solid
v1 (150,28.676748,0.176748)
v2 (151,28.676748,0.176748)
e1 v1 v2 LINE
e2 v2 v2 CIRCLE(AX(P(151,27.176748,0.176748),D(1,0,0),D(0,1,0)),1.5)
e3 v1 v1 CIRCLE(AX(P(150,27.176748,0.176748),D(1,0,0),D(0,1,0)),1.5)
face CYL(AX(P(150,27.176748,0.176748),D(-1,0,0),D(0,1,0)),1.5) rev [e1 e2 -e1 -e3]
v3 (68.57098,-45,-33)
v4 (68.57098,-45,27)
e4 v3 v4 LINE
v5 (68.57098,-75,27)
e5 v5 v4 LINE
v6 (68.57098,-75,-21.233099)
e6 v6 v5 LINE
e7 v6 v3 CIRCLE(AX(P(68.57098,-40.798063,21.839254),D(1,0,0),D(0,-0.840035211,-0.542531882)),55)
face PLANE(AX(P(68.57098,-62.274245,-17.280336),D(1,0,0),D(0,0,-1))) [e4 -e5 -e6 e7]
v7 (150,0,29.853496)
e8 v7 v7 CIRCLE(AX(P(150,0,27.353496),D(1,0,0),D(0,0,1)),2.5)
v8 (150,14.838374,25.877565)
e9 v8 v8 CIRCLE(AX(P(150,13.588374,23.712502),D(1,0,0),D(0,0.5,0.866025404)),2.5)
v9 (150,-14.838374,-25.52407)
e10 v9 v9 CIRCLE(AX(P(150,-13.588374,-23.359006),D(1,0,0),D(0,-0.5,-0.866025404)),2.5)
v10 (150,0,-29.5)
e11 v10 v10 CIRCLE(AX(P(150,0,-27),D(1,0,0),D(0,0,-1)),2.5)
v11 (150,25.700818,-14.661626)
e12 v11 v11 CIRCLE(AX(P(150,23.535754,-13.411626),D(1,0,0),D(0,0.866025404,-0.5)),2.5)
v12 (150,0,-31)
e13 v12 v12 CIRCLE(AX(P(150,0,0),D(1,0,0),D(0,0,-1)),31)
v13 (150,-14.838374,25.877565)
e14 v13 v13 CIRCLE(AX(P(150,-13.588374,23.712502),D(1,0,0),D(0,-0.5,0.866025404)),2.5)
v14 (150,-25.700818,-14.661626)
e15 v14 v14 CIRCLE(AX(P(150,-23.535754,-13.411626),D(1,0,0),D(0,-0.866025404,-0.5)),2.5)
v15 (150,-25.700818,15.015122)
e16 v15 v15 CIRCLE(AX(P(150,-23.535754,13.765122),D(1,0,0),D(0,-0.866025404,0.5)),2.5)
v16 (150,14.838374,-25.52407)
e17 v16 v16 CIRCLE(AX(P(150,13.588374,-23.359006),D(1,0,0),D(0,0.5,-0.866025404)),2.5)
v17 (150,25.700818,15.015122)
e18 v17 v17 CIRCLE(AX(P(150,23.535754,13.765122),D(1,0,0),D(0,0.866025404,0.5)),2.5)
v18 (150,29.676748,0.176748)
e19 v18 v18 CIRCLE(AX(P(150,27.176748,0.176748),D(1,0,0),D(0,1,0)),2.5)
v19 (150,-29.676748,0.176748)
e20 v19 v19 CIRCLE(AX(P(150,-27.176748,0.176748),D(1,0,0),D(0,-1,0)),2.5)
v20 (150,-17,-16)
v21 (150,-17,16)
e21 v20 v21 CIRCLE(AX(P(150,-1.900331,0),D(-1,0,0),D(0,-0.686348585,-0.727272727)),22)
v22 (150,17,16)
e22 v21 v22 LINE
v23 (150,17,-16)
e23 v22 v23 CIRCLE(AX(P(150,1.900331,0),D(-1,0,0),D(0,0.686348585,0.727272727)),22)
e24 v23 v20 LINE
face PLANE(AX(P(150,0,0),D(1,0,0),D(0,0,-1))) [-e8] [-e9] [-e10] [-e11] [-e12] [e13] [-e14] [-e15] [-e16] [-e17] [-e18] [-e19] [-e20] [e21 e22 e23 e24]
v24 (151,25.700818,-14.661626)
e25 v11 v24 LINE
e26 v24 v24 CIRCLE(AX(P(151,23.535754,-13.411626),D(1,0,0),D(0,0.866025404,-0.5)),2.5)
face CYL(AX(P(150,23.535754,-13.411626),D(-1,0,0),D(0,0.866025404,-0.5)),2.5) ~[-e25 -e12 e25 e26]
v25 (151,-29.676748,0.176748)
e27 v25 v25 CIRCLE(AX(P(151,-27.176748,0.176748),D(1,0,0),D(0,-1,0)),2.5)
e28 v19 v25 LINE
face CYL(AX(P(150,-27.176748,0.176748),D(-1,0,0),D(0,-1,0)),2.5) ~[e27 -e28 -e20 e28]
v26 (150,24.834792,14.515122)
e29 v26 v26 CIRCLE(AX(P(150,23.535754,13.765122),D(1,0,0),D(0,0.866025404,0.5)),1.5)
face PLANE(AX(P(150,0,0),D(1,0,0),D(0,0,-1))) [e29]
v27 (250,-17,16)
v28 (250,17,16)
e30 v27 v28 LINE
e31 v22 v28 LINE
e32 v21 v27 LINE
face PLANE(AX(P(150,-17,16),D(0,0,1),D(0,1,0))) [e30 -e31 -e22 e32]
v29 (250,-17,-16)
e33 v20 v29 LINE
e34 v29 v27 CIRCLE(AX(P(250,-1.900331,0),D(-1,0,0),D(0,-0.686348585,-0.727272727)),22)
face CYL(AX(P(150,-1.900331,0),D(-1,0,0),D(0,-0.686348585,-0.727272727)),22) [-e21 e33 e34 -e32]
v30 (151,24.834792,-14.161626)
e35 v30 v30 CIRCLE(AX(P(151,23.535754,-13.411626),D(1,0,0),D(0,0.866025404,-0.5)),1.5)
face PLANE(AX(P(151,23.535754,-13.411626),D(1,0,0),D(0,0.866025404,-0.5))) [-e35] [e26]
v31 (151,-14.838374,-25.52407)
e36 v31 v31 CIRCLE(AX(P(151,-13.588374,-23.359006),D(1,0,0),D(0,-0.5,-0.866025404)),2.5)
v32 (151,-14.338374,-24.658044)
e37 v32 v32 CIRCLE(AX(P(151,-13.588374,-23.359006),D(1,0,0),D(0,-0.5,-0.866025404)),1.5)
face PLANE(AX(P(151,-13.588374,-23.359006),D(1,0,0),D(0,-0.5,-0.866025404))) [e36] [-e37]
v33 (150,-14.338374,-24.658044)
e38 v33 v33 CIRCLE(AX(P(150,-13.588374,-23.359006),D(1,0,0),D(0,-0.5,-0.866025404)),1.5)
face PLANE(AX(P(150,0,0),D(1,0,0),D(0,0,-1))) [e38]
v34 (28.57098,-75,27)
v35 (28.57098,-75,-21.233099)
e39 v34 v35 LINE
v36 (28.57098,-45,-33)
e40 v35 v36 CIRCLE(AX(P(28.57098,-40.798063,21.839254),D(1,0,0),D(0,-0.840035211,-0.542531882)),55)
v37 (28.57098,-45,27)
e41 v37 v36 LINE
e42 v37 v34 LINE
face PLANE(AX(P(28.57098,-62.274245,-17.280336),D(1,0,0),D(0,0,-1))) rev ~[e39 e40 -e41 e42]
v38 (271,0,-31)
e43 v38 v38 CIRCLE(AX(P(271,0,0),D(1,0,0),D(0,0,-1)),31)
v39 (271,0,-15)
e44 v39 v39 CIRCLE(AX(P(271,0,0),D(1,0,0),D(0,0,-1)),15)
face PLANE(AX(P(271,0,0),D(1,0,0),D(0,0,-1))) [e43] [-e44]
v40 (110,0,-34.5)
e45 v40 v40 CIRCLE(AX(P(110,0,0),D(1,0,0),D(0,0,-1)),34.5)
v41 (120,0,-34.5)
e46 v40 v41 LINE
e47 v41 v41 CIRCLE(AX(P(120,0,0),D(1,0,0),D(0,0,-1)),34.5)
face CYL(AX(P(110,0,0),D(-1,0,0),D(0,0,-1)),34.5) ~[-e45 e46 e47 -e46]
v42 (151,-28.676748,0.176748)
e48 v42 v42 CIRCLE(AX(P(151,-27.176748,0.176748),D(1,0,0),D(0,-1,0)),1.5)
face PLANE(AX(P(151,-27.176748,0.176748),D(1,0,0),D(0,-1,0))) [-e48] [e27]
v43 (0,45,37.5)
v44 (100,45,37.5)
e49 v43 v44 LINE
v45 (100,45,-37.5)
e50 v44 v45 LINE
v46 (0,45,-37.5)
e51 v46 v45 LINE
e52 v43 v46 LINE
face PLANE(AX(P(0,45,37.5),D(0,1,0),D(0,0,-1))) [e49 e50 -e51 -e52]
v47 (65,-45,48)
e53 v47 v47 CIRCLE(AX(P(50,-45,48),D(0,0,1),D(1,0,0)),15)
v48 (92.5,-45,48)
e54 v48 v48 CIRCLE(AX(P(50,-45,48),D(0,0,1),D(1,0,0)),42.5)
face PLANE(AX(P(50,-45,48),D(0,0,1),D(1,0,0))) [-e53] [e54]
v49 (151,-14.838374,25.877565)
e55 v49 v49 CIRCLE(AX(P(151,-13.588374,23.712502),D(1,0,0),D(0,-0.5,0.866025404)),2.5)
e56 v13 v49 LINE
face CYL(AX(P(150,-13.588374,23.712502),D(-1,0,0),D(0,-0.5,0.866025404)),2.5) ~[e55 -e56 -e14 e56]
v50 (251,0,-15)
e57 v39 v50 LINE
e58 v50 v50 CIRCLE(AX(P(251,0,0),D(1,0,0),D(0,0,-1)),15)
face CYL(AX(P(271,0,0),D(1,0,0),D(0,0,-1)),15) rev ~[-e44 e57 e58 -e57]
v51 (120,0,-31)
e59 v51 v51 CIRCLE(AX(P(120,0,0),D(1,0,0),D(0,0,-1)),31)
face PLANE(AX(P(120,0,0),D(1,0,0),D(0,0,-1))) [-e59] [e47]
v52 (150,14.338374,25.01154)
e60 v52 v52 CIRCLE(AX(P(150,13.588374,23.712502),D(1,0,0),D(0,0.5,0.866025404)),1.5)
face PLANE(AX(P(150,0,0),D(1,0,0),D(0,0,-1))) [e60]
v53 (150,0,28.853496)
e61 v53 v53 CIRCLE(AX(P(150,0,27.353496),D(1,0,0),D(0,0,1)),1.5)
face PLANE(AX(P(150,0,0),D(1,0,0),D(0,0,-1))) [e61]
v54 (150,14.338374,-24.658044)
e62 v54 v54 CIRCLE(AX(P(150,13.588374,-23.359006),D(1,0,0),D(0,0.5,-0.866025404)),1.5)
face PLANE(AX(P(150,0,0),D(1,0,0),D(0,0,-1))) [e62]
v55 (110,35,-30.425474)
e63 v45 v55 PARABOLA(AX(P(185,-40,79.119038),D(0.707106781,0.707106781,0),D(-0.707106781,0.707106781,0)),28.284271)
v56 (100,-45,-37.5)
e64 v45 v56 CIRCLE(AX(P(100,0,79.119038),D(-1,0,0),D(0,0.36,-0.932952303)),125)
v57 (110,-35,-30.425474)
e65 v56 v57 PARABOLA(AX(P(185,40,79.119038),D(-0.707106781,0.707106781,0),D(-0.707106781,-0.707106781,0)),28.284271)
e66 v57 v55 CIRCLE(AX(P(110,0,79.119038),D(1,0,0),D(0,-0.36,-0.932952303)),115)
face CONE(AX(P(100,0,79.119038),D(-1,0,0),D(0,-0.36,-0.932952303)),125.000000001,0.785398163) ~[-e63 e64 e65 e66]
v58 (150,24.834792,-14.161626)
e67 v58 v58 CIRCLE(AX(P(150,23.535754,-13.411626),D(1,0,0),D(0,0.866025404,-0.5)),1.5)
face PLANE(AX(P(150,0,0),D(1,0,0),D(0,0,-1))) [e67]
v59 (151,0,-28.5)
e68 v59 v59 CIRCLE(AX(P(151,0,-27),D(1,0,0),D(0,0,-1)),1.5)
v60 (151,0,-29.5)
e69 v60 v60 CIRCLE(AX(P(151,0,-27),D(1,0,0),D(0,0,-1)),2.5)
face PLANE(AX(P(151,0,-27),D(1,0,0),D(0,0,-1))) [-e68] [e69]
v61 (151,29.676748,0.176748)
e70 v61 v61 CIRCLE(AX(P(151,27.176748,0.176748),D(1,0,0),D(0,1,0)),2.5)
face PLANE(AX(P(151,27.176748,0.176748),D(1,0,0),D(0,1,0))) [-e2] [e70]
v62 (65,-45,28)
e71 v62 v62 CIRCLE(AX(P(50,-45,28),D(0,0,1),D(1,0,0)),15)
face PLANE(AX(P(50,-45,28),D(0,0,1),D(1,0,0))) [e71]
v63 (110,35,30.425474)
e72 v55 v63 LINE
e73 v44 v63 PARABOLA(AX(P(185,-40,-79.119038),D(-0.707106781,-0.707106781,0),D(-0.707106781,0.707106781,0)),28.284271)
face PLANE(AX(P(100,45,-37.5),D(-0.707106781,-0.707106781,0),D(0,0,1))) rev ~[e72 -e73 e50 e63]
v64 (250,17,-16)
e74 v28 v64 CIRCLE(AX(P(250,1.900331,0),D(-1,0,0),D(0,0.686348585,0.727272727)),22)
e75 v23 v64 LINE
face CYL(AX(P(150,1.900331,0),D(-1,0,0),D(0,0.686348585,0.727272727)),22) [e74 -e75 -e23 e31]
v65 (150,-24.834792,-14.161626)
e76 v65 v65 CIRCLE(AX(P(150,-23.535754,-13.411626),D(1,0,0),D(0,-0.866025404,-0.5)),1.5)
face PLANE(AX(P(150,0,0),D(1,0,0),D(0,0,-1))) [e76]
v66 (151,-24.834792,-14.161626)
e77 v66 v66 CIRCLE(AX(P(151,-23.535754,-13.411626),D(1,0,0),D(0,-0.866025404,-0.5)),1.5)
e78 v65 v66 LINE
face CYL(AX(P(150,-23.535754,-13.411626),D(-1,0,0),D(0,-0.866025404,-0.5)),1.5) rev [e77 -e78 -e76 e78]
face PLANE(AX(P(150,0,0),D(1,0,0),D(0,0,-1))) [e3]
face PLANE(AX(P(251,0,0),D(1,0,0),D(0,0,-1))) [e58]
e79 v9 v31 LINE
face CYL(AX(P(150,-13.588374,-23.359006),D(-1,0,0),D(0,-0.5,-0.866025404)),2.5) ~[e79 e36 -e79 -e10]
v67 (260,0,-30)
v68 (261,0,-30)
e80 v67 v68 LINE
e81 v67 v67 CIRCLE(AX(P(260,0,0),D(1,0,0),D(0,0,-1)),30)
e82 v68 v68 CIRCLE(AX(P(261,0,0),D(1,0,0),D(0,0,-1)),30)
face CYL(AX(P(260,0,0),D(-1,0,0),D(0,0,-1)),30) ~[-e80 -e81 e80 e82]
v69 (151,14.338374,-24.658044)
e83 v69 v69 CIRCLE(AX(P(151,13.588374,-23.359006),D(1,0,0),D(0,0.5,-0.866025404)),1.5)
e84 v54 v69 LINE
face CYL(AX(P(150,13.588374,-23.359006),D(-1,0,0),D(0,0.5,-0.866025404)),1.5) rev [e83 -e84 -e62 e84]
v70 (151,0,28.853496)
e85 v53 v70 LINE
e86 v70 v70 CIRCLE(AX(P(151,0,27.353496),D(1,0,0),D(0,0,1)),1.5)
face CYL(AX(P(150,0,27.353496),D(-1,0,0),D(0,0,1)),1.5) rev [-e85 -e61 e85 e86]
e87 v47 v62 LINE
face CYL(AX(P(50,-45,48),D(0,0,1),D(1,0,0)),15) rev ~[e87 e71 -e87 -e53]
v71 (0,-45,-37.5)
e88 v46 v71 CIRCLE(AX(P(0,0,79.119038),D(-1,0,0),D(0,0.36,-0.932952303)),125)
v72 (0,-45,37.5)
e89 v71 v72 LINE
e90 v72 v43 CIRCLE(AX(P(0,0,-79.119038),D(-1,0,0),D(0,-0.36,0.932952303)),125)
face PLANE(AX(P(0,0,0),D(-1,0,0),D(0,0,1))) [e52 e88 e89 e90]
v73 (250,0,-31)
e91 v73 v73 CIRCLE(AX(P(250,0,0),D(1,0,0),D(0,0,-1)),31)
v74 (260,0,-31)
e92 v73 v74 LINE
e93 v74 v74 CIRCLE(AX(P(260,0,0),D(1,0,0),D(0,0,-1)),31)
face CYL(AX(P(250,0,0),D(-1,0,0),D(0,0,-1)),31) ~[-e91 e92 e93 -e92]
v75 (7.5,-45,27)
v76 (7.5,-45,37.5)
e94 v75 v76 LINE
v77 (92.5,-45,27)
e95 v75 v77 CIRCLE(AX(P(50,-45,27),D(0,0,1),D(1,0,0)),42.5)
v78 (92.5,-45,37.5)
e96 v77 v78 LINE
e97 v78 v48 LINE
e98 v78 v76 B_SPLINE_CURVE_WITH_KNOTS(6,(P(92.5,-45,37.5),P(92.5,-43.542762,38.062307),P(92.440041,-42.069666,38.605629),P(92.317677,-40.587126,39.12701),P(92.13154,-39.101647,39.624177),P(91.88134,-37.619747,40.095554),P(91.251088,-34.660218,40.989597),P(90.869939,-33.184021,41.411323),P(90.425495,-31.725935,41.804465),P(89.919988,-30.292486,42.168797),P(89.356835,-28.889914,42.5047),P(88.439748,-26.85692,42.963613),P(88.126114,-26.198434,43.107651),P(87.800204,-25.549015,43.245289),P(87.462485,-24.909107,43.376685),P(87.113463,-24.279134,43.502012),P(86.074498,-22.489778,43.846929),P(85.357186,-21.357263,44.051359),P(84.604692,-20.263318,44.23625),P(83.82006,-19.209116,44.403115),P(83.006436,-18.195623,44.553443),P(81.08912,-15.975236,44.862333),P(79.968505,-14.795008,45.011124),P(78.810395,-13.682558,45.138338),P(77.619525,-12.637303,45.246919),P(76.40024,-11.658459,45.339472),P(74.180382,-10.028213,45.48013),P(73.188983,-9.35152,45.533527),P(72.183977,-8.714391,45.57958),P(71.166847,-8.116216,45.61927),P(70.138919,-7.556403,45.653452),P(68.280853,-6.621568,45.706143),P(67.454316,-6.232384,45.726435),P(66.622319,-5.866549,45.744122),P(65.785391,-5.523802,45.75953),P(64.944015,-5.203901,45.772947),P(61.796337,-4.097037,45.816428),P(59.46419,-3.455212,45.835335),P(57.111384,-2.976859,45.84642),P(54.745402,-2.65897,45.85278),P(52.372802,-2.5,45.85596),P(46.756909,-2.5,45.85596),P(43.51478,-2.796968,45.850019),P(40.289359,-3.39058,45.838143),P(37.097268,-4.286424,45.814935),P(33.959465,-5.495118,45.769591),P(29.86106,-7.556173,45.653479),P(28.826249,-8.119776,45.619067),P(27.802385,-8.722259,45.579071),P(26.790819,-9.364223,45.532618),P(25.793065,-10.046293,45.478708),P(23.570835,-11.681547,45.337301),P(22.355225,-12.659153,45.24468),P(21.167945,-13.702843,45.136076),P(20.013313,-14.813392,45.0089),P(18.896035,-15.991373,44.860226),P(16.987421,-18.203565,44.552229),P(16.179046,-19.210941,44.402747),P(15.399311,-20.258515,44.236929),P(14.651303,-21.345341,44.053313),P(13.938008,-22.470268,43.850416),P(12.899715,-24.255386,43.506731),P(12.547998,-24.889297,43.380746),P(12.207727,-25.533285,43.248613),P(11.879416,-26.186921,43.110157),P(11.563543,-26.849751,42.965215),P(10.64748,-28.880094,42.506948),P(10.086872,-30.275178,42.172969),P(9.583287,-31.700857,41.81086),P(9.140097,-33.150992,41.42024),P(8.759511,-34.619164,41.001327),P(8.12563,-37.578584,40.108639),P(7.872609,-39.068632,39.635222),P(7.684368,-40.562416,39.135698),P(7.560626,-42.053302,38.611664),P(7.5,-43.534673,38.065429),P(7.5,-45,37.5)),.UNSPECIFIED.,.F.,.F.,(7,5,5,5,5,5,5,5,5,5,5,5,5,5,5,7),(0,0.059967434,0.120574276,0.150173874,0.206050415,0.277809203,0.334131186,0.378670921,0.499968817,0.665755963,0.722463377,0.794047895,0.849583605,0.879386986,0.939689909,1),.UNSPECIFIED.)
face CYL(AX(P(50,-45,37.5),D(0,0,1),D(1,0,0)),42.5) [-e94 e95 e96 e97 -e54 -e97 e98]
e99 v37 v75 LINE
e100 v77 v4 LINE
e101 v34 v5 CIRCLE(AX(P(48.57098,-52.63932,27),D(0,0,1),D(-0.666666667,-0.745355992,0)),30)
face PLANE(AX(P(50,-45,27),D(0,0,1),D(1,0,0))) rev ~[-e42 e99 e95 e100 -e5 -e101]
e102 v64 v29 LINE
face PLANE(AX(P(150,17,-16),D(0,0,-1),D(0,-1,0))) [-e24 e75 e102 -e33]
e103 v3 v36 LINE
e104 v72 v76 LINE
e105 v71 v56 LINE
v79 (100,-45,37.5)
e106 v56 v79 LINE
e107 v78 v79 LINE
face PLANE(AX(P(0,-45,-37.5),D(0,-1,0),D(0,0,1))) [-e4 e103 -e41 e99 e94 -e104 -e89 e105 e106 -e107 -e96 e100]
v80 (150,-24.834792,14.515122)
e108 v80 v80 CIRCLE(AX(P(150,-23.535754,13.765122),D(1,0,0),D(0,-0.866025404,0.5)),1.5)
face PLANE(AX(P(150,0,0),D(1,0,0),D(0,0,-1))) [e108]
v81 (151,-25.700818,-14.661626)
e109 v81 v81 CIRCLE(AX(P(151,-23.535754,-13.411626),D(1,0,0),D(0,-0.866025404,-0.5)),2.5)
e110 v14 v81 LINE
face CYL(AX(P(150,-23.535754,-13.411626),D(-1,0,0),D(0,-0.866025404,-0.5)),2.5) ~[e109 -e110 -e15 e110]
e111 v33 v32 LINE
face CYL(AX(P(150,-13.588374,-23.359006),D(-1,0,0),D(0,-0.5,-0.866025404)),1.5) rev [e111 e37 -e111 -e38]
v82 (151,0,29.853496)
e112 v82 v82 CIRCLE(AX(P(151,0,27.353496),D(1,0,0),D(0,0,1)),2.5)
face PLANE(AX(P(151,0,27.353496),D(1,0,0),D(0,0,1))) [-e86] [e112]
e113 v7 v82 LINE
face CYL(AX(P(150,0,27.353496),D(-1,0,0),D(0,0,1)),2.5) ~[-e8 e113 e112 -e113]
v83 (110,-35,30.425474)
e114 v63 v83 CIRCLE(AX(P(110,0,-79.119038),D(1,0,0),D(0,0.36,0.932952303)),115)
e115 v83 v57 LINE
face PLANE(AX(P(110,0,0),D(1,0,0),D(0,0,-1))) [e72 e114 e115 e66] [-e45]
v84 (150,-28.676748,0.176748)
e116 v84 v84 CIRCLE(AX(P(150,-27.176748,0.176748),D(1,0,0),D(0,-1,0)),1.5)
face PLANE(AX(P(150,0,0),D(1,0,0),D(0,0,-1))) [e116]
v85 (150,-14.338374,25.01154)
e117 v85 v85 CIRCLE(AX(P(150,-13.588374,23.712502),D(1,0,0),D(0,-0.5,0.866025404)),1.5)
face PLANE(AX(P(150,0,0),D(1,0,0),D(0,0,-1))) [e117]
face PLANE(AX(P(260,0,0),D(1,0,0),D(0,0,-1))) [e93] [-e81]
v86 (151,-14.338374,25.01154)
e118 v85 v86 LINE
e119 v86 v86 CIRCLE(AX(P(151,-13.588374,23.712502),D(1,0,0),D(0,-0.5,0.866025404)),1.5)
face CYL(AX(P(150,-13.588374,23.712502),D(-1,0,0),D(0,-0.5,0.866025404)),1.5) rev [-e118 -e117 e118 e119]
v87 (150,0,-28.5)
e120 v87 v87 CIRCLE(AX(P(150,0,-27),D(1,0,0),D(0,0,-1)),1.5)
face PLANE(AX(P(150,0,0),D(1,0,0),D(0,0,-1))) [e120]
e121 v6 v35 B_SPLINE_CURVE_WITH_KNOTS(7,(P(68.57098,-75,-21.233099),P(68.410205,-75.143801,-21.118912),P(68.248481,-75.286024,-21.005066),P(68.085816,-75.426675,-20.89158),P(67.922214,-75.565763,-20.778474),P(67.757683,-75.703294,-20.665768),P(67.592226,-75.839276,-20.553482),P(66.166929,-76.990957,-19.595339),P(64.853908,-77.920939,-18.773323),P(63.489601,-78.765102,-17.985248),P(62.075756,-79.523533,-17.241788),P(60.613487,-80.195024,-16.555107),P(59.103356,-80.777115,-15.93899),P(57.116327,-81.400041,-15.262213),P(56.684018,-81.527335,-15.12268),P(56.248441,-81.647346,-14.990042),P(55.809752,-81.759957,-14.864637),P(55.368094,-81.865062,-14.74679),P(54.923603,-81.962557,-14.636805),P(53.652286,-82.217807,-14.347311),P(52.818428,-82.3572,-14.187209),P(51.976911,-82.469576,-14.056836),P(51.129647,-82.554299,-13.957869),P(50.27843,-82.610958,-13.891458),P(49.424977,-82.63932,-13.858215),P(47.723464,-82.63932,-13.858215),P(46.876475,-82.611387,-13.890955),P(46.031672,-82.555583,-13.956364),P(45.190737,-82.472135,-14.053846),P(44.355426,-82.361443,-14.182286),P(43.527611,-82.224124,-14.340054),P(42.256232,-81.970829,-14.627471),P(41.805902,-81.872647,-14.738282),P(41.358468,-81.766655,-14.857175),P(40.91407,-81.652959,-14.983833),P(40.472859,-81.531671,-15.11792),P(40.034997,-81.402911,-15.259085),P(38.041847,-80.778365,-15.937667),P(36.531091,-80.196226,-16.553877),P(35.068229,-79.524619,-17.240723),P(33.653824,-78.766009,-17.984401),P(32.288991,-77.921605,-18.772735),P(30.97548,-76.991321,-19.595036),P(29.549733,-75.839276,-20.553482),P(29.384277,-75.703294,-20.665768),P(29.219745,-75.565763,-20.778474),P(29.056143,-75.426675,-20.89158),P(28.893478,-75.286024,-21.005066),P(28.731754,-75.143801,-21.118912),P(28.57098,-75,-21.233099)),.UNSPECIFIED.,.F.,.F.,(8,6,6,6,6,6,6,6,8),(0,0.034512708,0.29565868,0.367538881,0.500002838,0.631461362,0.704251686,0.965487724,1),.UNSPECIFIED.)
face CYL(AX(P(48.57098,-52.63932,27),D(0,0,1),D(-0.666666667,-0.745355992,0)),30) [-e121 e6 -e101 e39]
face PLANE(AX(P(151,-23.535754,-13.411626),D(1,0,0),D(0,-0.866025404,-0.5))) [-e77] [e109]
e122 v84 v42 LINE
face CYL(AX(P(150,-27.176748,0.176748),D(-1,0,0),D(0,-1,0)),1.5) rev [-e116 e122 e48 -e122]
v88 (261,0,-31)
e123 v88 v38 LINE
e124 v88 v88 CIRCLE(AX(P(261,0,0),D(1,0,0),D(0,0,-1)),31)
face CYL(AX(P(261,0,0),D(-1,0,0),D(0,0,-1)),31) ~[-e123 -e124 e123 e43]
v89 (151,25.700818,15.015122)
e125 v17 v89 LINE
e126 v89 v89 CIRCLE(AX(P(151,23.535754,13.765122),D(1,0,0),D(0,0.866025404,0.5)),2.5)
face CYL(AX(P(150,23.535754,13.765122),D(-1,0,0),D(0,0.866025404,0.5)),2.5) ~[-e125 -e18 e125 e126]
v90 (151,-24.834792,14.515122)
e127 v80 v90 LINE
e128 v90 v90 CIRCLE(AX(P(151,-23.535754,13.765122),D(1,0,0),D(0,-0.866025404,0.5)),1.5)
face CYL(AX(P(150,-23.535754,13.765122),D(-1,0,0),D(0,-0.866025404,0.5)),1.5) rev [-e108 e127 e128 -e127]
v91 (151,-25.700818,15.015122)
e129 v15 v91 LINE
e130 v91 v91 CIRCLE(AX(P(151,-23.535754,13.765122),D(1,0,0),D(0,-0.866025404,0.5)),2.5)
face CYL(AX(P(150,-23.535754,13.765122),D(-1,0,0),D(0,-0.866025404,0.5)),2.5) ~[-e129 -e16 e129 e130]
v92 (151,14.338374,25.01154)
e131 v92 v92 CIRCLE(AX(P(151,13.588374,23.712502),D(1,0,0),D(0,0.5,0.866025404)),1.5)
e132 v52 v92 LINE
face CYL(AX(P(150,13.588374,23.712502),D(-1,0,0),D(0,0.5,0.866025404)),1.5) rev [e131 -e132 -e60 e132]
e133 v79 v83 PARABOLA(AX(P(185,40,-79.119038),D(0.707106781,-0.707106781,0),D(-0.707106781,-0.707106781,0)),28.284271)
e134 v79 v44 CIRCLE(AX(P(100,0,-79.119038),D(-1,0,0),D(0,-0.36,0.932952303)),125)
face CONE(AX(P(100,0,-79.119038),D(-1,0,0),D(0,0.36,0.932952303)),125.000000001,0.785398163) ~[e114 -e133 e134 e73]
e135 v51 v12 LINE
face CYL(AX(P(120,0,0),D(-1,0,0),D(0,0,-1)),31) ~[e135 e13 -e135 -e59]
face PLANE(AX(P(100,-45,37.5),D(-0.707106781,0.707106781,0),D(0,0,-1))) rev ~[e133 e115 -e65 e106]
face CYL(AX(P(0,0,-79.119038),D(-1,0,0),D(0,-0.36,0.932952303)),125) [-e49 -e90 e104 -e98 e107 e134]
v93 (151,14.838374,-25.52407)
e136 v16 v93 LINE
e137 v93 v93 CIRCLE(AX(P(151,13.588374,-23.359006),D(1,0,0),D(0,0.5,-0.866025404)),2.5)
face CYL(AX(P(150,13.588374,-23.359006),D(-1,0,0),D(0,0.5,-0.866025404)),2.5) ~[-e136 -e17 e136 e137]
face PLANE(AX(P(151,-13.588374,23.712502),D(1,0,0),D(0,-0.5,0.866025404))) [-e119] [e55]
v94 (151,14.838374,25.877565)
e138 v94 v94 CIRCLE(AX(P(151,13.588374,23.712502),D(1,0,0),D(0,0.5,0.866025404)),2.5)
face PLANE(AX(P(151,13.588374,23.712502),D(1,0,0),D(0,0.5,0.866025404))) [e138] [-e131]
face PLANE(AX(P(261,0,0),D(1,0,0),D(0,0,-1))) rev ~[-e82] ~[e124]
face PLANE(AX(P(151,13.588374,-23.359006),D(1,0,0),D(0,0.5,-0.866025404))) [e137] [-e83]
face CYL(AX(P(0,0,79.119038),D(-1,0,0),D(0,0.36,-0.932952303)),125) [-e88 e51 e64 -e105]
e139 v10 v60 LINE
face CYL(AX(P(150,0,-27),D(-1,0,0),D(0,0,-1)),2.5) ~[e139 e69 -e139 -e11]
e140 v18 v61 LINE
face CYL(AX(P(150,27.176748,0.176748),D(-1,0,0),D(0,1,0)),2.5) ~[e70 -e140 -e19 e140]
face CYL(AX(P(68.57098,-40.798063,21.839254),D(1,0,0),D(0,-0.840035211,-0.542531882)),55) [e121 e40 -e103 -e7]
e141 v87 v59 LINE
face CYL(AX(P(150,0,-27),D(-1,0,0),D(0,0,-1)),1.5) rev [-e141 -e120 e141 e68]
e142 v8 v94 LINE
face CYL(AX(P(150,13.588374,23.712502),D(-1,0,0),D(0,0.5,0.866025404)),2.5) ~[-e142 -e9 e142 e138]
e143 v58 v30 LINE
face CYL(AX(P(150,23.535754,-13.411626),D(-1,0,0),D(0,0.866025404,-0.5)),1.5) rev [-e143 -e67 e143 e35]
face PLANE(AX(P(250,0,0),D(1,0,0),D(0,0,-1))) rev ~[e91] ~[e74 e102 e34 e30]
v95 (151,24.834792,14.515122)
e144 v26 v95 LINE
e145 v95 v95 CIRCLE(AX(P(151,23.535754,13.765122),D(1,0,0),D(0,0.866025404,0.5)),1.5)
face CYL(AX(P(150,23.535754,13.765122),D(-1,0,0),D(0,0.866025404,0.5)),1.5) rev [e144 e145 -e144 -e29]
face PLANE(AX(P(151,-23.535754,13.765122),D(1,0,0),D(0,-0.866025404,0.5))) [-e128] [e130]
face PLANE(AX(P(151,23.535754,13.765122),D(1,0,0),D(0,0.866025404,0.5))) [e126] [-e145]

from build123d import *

# Parameters (mm, degrees)
BOSS_EXTRUDE1_DEPTH  = 100
BOSS_EXTRUDE2_DEPTH  = 10
BOSS_EXTRUDE2_DRAFT  = 45
SKETCH4_R            = 34.5
BOSS_EXTRUDE3_DEPTH  = 10
SKETCH5_R            = 31
BOSS_EXTRUDE4_DEPTH  = 30
SKETCH6_R            = 2.5
SKETCH6_R_2          = 1.5
BOSS_EXTRUDE5_DEPTH  = 1
CIRPATTERN1_COUNT    = 12
BOSS_EXTRUDE6_DEPTH  = 100
SKETCH8_R            = 31
BOSS_EXTRUDE7_DEPTH  = 10
SKETCH9_R            = 30
BOSS_EXTRUDE8_DEPTH  = 1
SKETCH10_R           = 31
BOSS_EXTRUDE9_DEPTH  = 10
SKETCH11_R           = 42.5
BOSS_EXTRUDE10_DEPTH = 10.5
BOSS_EXTRUDE11_DEPTH = 35
BOSS_EXTRUDE12_DEPTH = 40
CUT_EXTRUDE1_DEPTH   = 40
SKETCH15_R           = 15
CUT_EXTRUDE2_DEPTH   = 20
SKETCH16_R           = 15
CUT_EXTRUDE3_DEPTH   = 20


with BuildPart() as part:
    # Sketch1 → Boss-Extrude1 (new body)
    with BuildSketch(Plane(origin=(0, 0, 0), x_dir=(0, 0, -1), z_dir=(1, 0, 0))):
        with BuildLine():
            Line((-37.5, 45), (37.5, 45))
            ThreePointArc((37.5, 45), (45.880962103, 0), (37.5, -45))
            Line((37.5, -45), (-37.5, -45))
            ThreePointArc((-37.5, -45), (-45.880962103, 0), (-37.5, 45))
        make_face()
    extrude(amount=BOSS_EXTRUDE1_DEPTH)


with BuildPart() as boss_extrude2_tool:
    # Sketch2 → Boss-Extrude2 (with draft: the straight prism first)
    with BuildSketch(Plane(origin=(100, 0, 0), x_dir=(0, 0, -1), z_dir=(1, 0, 0))):
        with BuildLine():
            Line((37.5, 45), (-37.5, 45))
            ThreePointArc((-37.5, 45), (-45.880962103, 0), (-37.5, -45))
            Line((-37.5, -45), (37.5, -45))
            ThreePointArc((37.5, -45), (45.880962103, 0), (37.5, 45))
        make_face()
    extrude(amount=BOSS_EXTRUDE2_DEPTH)
    # Boss-Extrude2: the draft: its side faces are tilted about the plane it starts from
    boss_extrude2_sides = [boss_extrude2_tool.faces().sort_by_distance(p)[0] for p in [
        (105, -45, 0),
        (105, 0, -45.880962103),
        (105, 45, 0),
        (105, 0, 45.880962103),
    ]]
    draft(boss_extrude2_sides, Plane(origin=(100, 0, 0), x_dir=(0, 0, -1), z_dir=(1, 0, 0)), BOSS_EXTRUDE2_DRAFT)


with BuildPart() as part_1:
    add(part.part)

    # Boss-Extrude2: add boss_extrude2_tool
    add(boss_extrude2_tool.part)

    # Sketch4 → Boss-Extrude3 (add)
    with BuildSketch(Plane(origin=(110, 0, 0), x_dir=(0, 0, -1), z_dir=(1, 0, 0))):
        Circle(SKETCH4_R)
    extrude(amount=BOSS_EXTRUDE3_DEPTH)

    # Sketch5 → Boss-Extrude4 (add)
    with BuildSketch(Plane(origin=(120, 0, 0), x_dir=(0, 0, -1), z_dir=(1, 0, 0))):
        Circle(SKETCH5_R)
    extrude(amount=BOSS_EXTRUDE4_DEPTH)

    # Sketch6 → Boss-Extrude5 (add)
    with BuildSketch(Plane(origin=(150, 0, 0), x_dir=(0, 0, -1), z_dir=(1, 0, 0))):
        with Locations((27, 0)):
            Circle(SKETCH6_R)
        with Locations((27, 0)):
            Circle(SKETCH6_R_2, mode=Mode.SUBTRACT)
    boss_extrude5 = extrude(amount=BOSS_EXTRUDE5_DEPTH)

    # CirPattern1: Boss-Extrude5 ×12 about axis
    cirpattern1_axis = Axis((0, 0, 0.17674784), (1, 0, 0))
    for i in range(1, CIRPATTERN1_COUNT):
        add(boss_extrude5.rotate(cirpattern1_axis, i * 360 / CIRPATTERN1_COUNT))

    # Sketch7 → Boss-Extrude6 (add)
    with BuildSketch(Plane(origin=(150, 0, 0), x_dir=(0, 0, -1), z_dir=(1, 0, 0))):
        with BuildLine():
            Line((16, 17), (16, -17))
            ThreePointArc((16, -17), (0, -23.900331129), (-16, -17))
            Line((-16, -17), (-16, 17))
            ThreePointArc((-16, 17), (0, 23.900331129), (16, 17))
        make_face()
    extrude(amount=BOSS_EXTRUDE6_DEPTH)

    # Sketch8 → Boss-Extrude7 (add)
    with BuildSketch(Plane(origin=(250, 0, 0), x_dir=(0, 0, -1), z_dir=(1, 0, 0))):
        Circle(SKETCH8_R)
    extrude(amount=BOSS_EXTRUDE7_DEPTH)

    # Sketch9 → Boss-Extrude8 (add)
    with BuildSketch(Plane(origin=(260, 0, 0), x_dir=(0, 0, -1), z_dir=(1, 0, 0))):
        Circle(SKETCH9_R)
    extrude(amount=BOSS_EXTRUDE8_DEPTH)

    # Sketch10 → Boss-Extrude9 (add)
    with BuildSketch(Plane(origin=(261, 0, 0), x_dir=(0, 0, -1), z_dir=(1, 0, 0))):
        Circle(SKETCH10_R)
    extrude(amount=BOSS_EXTRUDE9_DEPTH)

    # Sketch11 → Boss-Extrude10 (add, symmetric)
    with BuildSketch(Plane.XY.offset(37.5)):
        with Locations((50, -45)):
            Circle(SKETCH11_R)
    extrude(amount=BOSS_EXTRUDE10_DEPTH, both=True)

    # Sketch12 → Boss-Extrude11 (add)
    with BuildSketch(Plane(origin=(0, 0, 27), x_dir=(-1, 0, 0), z_dir=(0, 0, -1))):
        with BuildLine():
            Line((-68.570979575, -45), (-28.570979575, -45))
            Line((-28.570979575, -45), (-28.570979575, -75))
            ThreePointArc((-28.570979575, -75), (-48.570979575, -82.639320225), (-68.570979575, -75))
            Line((-68.570979575, -75), (-68.570979575, -45))
        make_face()
    extrude(amount=BOSS_EXTRUDE11_DEPTH)

    # Sketch13 → Boss-Extrude12 (add)
    with BuildSketch(Plane(origin=(68.570979575, 0, 0), x_dir=(0, 0, -1), z_dir=(1, 0, 0))):
        with BuildLine():
            Line((8, -45), (8, -87))
            ThreePointArc((8, -87), (25.421855105, -68.929675658), (33, -45))
            Line((33, -45), (8, -45))
        make_face()
    extrude(amount=-BOSS_EXTRUDE12_DEPTH)

    # Sketch14 → Cut-Extrude1 (cut)
    with BuildSketch(Plane.XY.offset(-8)):
        with BuildLine():
            Line((28.570979575, -75), (28.570979575, -87))
            Line((28.570979575, -87), (68.570979575, -87))
            Line((68.570979575, -87), (68.570979575, -75))
            ThreePointArc((68.570979575, -75), (48.570979575, -82.639320225), (28.570979575, -75))
        make_face()
    extrude(amount=-CUT_EXTRUDE1_DEPTH, mode=Mode.SUBTRACT)

    # Sketch15 → Cut-Extrude2 (cut)
    with BuildSketch(Plane(origin=(271, 0, 0), x_dir=(0, 0, -1), z_dir=(1, 0, 0))):
        Circle(SKETCH15_R)
    extrude(amount=-CUT_EXTRUDE2_DEPTH, mode=Mode.SUBTRACT)

    # Sketch16 → Cut-Extrude3 (cut)
    with BuildSketch(Plane.XY.offset(48)):
        with Locations((50, -45)):
            Circle(SKETCH16_R)
    extrude(amount=-CUT_EXTRUDE3_DEPTH, mode=Mode.SUBTRACT)


solid = part_1.part
